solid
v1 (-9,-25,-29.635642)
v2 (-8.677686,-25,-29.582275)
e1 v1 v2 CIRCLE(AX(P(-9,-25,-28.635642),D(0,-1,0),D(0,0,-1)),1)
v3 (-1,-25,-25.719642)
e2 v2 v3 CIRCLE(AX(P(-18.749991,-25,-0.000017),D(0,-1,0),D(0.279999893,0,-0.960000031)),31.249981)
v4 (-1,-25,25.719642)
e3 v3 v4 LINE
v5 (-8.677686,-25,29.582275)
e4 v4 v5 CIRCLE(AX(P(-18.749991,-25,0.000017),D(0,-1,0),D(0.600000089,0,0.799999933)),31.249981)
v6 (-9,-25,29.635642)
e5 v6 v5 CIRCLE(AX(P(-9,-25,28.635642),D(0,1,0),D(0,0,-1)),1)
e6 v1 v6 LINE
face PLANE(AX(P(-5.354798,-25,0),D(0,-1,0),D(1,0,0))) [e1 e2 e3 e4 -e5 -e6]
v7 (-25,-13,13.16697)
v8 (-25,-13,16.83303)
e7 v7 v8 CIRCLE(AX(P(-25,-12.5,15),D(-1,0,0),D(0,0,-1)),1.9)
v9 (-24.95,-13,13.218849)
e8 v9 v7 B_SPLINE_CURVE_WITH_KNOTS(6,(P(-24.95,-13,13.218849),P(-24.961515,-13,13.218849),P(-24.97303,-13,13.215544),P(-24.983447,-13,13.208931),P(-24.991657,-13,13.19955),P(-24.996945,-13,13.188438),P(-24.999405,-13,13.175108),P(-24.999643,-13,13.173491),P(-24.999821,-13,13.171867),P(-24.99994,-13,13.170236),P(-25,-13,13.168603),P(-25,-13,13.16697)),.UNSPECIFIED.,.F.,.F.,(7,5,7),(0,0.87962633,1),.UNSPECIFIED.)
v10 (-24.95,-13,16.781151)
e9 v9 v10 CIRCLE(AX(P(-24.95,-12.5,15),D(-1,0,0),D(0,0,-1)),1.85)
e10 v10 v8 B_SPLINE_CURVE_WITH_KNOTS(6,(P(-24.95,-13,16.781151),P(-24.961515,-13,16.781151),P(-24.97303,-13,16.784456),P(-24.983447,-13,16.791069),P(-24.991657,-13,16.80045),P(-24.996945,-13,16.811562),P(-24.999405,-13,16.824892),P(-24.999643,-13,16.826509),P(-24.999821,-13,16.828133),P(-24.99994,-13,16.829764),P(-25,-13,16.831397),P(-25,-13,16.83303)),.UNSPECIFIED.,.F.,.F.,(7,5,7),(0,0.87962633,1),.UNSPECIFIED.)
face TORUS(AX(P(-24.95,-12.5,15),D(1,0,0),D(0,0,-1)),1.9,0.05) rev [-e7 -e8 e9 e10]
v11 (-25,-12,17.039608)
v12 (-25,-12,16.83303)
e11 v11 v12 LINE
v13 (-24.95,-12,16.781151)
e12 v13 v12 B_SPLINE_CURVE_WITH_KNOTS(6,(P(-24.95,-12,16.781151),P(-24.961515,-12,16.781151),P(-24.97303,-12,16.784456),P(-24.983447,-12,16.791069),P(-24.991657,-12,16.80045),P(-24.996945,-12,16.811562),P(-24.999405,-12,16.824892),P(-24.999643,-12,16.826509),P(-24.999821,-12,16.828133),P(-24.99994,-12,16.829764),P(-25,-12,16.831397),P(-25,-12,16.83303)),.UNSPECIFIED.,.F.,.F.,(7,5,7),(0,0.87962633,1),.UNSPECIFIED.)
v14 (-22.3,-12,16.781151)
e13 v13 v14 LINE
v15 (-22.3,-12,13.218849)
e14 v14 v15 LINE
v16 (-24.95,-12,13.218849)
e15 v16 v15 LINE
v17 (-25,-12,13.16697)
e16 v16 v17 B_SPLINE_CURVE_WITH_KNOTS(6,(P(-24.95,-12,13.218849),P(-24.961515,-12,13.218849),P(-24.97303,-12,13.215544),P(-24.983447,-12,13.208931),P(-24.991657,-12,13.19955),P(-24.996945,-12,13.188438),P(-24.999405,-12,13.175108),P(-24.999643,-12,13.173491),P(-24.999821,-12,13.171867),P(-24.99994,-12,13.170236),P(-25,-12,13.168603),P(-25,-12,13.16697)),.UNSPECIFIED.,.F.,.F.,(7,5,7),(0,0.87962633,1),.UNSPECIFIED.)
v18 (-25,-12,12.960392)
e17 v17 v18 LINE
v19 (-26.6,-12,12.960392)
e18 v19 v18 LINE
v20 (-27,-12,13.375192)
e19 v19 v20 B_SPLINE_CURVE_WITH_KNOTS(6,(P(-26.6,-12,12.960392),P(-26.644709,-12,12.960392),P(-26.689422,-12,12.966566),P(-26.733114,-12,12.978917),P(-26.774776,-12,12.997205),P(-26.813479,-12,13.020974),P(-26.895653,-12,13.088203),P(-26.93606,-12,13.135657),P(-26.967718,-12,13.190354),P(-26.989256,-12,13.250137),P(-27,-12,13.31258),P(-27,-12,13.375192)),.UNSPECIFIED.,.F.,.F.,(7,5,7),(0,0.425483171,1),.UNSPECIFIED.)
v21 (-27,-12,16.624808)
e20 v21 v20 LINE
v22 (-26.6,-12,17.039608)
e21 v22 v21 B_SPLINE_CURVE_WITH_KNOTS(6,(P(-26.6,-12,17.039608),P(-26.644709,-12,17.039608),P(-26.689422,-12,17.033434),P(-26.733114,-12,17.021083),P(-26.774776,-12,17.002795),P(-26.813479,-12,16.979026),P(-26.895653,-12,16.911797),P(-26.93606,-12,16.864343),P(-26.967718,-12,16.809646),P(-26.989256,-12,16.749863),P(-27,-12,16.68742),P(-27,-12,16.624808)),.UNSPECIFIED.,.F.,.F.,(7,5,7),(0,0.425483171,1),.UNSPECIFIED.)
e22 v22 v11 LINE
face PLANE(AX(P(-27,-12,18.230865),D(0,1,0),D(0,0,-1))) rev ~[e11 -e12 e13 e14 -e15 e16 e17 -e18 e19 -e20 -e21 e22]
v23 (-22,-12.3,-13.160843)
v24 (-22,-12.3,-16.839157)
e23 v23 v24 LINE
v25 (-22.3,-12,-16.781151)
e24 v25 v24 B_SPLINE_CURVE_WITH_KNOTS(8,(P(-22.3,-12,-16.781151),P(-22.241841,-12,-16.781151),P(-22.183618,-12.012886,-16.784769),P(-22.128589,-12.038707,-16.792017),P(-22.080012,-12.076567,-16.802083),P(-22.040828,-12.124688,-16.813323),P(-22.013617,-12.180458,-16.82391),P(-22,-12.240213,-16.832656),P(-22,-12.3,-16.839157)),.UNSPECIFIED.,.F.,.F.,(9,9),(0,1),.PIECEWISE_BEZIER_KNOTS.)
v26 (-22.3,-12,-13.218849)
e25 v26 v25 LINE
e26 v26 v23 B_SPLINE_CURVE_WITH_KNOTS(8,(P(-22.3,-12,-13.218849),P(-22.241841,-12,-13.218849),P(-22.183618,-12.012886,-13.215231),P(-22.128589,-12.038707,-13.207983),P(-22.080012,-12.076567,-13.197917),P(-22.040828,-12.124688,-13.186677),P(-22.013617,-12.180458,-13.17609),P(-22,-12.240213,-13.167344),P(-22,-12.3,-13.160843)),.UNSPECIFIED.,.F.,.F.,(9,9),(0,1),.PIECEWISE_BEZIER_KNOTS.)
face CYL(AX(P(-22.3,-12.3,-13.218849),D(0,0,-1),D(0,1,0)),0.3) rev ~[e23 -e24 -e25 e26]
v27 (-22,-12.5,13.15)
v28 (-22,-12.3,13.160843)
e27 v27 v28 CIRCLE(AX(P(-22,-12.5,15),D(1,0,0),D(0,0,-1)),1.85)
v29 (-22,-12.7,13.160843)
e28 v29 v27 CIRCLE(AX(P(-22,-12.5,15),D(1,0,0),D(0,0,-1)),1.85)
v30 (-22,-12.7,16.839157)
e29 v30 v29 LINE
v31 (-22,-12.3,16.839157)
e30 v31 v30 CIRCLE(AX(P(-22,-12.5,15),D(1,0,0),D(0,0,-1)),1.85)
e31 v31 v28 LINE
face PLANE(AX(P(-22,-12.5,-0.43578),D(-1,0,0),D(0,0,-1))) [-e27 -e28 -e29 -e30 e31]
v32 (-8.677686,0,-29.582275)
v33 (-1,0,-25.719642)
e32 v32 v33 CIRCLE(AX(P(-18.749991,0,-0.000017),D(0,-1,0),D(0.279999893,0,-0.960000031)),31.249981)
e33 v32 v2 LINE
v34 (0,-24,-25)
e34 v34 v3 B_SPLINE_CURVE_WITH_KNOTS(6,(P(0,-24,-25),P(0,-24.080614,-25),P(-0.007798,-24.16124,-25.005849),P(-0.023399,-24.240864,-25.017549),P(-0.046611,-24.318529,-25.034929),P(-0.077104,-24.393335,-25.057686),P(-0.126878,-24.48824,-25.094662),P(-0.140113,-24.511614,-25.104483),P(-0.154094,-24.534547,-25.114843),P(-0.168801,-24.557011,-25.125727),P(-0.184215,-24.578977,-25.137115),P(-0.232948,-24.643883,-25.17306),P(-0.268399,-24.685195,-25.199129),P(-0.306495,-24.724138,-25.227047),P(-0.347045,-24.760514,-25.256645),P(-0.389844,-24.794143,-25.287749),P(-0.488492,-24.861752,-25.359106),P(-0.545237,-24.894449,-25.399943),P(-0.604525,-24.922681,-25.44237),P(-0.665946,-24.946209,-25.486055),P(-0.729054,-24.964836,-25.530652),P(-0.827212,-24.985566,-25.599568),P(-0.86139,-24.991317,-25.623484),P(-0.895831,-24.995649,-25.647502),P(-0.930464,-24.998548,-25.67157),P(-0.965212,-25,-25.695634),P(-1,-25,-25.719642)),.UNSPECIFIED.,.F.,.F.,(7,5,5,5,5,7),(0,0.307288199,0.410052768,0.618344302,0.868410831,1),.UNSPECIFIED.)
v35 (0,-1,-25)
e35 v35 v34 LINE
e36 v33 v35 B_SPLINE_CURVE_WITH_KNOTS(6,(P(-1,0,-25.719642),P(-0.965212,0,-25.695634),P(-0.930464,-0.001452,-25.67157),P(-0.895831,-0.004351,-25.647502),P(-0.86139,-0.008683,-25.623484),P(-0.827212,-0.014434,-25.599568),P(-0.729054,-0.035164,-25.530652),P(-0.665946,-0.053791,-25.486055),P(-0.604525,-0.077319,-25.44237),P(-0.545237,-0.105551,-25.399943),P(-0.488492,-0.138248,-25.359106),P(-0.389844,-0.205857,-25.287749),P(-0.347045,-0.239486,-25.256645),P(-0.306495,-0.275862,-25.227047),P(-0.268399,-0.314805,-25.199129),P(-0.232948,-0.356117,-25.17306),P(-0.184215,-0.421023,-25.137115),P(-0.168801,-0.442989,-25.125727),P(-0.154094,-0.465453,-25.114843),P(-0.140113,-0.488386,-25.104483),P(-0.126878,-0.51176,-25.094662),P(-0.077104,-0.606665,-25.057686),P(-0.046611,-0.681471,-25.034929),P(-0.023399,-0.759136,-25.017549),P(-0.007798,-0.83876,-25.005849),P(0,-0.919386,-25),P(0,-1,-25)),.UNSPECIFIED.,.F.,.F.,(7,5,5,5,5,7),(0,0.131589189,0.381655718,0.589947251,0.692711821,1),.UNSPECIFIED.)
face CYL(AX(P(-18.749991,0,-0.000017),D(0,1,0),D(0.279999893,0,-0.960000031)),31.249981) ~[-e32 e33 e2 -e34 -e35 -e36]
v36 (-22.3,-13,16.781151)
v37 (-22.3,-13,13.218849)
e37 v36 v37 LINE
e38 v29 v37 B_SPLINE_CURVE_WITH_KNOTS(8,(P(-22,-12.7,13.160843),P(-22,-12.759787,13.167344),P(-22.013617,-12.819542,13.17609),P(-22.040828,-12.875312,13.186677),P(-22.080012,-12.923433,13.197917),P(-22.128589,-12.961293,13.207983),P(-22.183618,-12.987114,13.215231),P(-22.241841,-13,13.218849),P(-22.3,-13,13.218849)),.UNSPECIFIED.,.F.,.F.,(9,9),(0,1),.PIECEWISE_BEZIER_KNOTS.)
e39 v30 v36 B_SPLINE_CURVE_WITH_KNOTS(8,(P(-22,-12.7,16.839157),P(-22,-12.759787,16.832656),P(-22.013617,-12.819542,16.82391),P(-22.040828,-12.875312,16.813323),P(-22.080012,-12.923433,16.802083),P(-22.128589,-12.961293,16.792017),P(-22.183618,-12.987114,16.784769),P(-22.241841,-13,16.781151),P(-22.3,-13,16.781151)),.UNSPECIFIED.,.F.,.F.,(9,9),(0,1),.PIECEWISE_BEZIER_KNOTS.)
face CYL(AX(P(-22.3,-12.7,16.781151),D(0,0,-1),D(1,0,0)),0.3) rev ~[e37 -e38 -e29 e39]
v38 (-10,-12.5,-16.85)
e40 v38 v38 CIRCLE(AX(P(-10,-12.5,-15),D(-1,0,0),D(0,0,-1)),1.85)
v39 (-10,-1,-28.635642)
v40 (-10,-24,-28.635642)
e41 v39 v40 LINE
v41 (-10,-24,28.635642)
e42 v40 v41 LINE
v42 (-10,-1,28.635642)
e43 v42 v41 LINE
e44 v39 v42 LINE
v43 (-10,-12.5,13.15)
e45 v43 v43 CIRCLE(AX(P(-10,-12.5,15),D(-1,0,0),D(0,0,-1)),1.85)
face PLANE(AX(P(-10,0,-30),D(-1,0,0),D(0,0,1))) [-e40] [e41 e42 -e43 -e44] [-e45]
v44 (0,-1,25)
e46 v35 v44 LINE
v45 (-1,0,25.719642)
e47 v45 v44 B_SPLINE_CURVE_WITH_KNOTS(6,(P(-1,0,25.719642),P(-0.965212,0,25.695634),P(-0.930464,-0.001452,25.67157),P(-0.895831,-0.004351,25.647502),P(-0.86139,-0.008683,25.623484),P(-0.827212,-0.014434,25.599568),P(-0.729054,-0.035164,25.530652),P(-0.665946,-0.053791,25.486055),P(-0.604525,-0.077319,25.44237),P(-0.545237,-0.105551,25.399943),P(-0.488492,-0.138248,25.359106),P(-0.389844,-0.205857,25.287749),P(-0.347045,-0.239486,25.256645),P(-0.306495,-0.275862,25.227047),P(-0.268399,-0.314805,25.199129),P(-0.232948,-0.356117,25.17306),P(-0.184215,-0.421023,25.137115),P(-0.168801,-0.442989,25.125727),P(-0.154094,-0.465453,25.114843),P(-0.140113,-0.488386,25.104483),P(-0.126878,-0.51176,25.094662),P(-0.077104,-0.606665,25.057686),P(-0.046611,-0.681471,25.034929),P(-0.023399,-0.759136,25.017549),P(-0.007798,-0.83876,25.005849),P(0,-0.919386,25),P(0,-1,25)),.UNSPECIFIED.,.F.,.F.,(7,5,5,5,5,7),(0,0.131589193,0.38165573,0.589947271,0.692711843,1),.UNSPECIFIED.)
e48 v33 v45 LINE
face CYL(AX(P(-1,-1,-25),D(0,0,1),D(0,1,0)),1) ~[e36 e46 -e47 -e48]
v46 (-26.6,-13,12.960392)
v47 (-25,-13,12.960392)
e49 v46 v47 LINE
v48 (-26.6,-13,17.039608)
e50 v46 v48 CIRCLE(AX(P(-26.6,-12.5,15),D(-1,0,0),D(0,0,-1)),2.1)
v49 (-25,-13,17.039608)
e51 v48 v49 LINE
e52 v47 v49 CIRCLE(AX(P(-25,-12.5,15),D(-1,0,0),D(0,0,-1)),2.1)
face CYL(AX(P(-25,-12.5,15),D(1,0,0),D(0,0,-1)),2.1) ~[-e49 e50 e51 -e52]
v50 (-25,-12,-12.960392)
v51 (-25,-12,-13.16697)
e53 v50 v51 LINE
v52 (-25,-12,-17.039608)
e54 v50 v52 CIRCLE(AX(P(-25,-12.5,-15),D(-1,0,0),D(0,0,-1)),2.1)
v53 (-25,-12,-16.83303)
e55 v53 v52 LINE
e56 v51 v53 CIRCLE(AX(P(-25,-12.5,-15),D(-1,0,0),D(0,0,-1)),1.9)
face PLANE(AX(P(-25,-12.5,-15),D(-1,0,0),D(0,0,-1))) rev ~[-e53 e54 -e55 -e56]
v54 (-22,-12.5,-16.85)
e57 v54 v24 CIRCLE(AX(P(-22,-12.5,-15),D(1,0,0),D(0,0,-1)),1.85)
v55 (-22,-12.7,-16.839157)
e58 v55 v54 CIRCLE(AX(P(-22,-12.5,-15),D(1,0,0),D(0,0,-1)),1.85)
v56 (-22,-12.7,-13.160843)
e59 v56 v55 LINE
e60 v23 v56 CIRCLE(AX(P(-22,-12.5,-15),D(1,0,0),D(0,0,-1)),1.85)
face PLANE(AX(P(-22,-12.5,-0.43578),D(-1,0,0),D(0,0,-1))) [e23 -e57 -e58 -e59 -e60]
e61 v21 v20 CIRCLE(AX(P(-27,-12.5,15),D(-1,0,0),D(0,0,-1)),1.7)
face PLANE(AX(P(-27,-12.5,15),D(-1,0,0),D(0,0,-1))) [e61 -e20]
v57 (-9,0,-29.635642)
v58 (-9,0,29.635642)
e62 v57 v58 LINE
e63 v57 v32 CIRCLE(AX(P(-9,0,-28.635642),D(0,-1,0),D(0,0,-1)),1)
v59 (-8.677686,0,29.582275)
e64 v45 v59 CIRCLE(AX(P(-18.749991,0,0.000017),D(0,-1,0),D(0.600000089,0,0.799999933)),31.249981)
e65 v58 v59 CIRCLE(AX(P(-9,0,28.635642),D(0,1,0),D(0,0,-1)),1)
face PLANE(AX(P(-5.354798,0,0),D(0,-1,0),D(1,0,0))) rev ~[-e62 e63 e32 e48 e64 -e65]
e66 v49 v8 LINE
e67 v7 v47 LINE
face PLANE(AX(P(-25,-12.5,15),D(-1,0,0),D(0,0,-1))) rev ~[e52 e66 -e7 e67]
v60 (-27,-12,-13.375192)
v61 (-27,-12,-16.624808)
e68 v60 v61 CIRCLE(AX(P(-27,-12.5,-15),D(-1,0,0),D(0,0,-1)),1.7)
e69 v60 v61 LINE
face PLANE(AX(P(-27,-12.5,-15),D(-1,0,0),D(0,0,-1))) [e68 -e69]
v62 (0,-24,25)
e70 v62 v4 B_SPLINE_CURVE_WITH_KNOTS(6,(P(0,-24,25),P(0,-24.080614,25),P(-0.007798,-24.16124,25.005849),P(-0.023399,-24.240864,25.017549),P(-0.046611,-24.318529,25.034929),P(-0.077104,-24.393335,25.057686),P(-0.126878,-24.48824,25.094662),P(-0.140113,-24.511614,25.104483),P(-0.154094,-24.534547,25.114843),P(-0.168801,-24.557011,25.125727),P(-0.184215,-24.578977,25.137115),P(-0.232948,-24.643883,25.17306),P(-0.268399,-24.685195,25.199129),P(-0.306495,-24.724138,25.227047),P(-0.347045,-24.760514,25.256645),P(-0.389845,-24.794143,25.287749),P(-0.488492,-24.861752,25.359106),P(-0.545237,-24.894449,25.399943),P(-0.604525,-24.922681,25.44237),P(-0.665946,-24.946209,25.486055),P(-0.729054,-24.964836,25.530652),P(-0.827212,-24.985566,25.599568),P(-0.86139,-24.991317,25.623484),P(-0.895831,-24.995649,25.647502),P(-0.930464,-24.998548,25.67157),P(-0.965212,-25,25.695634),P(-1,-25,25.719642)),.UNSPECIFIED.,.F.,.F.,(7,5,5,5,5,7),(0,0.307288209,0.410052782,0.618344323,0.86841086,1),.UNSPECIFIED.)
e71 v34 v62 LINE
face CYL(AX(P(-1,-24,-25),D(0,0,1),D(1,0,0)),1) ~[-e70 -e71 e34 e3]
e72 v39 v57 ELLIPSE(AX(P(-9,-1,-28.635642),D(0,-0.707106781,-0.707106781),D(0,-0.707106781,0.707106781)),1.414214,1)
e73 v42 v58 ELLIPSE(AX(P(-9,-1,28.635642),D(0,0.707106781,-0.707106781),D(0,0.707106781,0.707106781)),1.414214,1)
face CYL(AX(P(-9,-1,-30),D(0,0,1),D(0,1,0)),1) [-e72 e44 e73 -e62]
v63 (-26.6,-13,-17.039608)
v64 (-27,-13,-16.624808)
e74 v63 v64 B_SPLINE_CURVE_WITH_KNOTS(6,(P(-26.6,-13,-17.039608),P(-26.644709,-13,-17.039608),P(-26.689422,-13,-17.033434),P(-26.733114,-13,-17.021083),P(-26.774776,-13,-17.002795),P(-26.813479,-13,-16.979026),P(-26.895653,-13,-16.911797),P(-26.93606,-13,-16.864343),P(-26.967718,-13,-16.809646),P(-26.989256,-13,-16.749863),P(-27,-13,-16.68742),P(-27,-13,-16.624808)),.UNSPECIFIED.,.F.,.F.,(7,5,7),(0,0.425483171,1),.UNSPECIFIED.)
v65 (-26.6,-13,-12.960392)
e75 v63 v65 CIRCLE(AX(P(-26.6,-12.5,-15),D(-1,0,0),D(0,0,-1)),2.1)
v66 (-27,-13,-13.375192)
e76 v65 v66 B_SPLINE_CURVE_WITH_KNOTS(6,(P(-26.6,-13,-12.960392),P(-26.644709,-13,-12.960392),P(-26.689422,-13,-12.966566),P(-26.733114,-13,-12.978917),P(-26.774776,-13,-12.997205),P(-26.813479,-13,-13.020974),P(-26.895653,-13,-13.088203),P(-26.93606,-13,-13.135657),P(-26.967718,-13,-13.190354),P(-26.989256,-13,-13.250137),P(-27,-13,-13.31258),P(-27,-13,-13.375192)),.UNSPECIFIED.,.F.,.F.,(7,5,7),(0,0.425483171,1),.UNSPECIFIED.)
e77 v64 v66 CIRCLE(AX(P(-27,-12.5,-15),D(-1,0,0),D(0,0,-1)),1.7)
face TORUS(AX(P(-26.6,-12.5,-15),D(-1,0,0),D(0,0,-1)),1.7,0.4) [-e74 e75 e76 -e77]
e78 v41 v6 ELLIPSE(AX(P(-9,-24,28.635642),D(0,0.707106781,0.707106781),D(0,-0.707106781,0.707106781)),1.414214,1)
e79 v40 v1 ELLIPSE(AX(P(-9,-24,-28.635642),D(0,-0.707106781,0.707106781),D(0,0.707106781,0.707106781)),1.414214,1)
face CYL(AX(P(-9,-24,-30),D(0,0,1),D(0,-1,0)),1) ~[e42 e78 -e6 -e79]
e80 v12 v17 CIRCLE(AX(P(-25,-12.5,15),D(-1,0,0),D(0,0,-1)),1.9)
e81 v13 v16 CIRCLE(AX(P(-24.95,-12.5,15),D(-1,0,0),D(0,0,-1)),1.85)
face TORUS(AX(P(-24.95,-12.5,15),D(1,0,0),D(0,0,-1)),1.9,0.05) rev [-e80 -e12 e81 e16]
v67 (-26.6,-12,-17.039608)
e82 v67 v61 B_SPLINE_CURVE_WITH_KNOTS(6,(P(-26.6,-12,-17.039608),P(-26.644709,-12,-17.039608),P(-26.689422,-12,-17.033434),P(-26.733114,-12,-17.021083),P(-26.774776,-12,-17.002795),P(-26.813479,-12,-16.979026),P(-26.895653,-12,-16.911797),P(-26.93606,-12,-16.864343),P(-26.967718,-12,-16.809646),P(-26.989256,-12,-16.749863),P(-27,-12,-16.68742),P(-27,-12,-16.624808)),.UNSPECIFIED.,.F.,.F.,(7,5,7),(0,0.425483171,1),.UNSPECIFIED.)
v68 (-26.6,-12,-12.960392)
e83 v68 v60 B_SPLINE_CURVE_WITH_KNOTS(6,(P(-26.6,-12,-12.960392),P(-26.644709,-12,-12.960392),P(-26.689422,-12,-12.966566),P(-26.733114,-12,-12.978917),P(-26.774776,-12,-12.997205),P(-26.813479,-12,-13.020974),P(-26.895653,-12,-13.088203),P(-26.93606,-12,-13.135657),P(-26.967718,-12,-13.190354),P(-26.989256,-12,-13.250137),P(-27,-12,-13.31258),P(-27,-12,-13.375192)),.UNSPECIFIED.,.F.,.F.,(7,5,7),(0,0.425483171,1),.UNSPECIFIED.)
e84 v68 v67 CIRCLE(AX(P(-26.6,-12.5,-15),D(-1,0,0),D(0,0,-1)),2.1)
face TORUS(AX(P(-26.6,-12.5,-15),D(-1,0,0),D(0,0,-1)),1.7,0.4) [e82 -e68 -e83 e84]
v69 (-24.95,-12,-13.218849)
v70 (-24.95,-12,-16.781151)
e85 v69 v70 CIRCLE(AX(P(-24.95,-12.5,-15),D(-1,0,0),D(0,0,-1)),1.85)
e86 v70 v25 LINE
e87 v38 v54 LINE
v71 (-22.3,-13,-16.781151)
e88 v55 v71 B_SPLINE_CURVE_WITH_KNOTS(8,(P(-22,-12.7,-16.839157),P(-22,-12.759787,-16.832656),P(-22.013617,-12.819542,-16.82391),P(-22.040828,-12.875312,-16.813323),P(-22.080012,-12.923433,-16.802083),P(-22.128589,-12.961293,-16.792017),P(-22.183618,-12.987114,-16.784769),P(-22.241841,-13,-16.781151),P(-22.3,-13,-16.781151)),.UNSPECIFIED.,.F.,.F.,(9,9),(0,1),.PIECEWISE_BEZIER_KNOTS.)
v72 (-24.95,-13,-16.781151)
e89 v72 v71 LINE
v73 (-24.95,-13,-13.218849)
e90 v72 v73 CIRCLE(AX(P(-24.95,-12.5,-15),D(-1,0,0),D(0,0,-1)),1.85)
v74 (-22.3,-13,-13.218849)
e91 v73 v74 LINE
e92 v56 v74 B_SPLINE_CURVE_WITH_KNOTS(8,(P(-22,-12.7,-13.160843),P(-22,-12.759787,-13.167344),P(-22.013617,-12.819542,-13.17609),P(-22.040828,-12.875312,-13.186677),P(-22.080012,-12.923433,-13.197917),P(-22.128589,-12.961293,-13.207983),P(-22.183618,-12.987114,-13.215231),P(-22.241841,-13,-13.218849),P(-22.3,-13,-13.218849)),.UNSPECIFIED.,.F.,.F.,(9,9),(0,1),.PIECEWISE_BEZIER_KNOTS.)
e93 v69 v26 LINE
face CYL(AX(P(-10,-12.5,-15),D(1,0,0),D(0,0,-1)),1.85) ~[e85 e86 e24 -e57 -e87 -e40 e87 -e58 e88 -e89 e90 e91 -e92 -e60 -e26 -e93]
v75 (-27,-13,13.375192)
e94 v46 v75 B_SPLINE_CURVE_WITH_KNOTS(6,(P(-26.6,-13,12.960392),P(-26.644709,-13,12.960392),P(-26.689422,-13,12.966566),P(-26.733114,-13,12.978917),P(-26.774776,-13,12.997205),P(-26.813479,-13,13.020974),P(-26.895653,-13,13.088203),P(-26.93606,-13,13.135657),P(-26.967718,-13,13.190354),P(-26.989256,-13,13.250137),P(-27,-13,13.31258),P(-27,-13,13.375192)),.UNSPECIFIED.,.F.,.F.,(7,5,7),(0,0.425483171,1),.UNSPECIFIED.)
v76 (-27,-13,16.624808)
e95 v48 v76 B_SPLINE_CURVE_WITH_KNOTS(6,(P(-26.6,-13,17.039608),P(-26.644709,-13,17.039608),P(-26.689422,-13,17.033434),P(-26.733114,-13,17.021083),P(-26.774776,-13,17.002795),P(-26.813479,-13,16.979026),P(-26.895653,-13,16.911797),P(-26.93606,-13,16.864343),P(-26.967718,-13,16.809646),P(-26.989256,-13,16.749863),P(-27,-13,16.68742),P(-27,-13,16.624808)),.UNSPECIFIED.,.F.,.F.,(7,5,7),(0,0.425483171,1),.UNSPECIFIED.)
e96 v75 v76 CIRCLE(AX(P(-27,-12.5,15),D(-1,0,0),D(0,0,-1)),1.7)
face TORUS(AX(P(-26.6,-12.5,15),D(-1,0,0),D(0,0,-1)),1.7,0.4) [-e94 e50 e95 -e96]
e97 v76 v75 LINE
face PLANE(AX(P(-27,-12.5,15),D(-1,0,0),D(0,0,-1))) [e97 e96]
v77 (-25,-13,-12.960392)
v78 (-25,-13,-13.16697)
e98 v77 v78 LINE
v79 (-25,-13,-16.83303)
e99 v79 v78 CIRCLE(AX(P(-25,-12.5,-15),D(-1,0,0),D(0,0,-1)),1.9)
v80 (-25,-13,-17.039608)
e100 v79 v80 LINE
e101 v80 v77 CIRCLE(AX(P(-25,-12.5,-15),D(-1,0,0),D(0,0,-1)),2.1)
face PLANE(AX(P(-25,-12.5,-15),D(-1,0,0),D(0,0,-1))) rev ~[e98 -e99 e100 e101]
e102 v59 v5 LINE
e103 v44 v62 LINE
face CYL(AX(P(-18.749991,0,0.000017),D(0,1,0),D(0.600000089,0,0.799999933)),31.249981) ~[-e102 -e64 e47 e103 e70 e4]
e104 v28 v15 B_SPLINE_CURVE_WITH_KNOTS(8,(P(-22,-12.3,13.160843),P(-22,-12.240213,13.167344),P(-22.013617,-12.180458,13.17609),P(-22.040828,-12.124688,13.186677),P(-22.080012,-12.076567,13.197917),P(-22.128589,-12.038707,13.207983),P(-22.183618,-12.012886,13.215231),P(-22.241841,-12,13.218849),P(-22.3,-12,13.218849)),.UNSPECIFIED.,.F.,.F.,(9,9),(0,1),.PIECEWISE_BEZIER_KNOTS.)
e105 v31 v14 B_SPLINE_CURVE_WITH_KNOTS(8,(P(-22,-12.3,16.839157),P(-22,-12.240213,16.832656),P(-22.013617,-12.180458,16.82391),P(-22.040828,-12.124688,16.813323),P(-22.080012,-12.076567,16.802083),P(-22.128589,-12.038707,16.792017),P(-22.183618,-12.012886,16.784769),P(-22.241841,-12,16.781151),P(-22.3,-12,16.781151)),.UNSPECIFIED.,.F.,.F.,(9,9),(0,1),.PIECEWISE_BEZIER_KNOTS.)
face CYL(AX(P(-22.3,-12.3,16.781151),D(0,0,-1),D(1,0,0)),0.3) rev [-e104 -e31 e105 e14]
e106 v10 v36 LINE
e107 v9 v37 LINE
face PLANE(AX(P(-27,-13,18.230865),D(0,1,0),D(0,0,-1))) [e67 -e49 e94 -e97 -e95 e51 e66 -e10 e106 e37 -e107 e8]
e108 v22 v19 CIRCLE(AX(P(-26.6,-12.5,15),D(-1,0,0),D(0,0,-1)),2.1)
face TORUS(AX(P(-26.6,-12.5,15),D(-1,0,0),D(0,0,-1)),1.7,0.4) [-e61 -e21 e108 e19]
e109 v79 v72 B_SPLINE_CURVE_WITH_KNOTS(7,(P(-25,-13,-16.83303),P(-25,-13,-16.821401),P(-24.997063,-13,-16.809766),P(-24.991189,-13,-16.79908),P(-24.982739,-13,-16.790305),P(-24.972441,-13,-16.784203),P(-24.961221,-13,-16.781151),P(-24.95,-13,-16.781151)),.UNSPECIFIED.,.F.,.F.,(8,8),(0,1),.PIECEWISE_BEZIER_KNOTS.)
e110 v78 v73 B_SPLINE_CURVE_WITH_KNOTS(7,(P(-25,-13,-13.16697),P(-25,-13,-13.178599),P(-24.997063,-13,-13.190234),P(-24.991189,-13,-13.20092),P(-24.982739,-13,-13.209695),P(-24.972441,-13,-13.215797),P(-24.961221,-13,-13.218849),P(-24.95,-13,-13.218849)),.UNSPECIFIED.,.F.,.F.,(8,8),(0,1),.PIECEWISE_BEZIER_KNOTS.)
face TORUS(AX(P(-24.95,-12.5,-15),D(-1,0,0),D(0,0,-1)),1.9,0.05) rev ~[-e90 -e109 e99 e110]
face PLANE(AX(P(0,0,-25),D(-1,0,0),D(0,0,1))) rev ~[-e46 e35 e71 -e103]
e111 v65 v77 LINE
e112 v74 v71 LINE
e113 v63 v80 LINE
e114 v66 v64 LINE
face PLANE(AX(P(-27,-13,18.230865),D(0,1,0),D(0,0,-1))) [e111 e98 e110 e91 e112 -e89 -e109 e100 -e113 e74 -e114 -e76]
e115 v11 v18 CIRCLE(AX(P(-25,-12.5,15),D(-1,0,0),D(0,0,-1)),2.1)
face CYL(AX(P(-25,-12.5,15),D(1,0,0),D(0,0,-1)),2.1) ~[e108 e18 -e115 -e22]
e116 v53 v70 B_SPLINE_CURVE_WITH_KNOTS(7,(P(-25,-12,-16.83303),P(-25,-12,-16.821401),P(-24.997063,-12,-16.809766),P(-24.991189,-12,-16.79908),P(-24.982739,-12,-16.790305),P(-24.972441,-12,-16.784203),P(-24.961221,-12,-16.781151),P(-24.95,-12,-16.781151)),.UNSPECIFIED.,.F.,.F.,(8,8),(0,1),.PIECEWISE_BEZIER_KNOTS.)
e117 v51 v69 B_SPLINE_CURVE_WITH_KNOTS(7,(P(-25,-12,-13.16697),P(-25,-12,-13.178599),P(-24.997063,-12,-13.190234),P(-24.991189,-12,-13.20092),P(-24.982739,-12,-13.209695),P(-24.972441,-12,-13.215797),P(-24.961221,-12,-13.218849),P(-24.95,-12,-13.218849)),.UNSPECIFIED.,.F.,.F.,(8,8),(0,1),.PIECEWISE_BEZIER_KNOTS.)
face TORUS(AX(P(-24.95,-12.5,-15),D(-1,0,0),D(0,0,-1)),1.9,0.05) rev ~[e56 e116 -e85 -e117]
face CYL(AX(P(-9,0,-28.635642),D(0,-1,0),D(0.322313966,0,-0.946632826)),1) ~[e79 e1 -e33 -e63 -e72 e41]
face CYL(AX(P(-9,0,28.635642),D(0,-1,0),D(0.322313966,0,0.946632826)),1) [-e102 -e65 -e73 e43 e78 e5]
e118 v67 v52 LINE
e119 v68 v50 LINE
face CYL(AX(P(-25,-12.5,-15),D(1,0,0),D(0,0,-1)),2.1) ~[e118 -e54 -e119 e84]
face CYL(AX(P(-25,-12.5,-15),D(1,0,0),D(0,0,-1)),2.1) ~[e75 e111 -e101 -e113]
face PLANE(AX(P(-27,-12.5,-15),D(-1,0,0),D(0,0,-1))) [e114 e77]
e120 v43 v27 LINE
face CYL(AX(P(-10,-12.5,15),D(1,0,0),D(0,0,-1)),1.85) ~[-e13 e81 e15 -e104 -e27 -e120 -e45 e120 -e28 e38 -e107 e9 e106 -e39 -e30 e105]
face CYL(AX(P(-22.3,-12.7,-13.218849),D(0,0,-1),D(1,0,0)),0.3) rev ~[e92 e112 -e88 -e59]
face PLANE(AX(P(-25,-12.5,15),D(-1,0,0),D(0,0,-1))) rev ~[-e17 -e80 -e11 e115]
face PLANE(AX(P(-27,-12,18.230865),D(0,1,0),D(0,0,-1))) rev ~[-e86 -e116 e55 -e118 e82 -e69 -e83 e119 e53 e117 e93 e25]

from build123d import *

# Parameters (mm, degrees)
PAD_DEPTH       = 25
SKETCH002_R     = 1.85
PAD002_DEPTH    = 15
FILLET_R        = 1
FILLET001_R     = 1
SKETCH004_R     = 2.1
PAD003_DEPTH    = 2
FILLET004_R     = 0.05
FILLET005_R     = 0.4
SKETCH007_W     = 37.33329
SKETCH007_H     = 1
POCKET002_DEPTH = 5
FILLET009_R     = 0.3


with BuildPart() as part:
    # Sketch → Pad (new body)
    with BuildSketch(Plane.XZ):
        with BuildLine():
            Line((0, -25), (0, 25))
            ThreePointArc((0, 25), (-4.774575, 27.95085), (-10, 30))
            Line((-10, -30), (-10, 30))
            ThreePointArc((-10, -30), (-4.774575, -27.95085), (0, -25))
        make_face()
    extrude(amount=PAD_DEPTH)

    # Sketch002 (on Face4 of Pad) → Pad002 (join)
    with BuildSketch(Plane(origin=(-10, 0, 0), x_dir=(0, 0, -1), z_dir=(-1, 0, 0))):
        with Locations((-15, 12.5)):
            Circle(SKETCH002_R)
        with Locations((15, 12.5)):
            Circle(SKETCH002_R)
    extrude(amount=PAD002_DEPTH)

    # Fillet
    fillet_edges = [part.edges().sort_by_distance(p)[0] for p in [
        (-10, -12.5, 30),
        (-10, -25, 0),
        (-10, 0, 0),
        (-10, -12.5, -30),
    ]]
    fillet(fillet_edges, radius=FILLET_R)

    # Fillet001
    fillet001_edges = [part.edges().sort_by_distance(p)[0] for p in [
        (0, 0, 0),
        (0, -25, 0),
    ]]
    fillet(fillet001_edges, radius=FILLET001_R)

    # Sketch004 (on Face16 of Fillet001) → Pad003 (join)
    with BuildSketch(Plane(origin=(-25, 0, 0), x_dir=(0, 0, -1), z_dir=(-1, 0, 0))):
        with Locations((15, 12.5)):
            Circle(SKETCH004_R)
        with Locations((-15, 12.5)):
            Circle(SKETCH004_R)
    extrude(amount=PAD003_DEPTH)

    # Fillet004
    fillet004_edges = [part.edges().sort_by_distance(p)[0] for p in [
        (-25, -12.5, -13.15),
        (-25, -12.5, 16.85),
    ]]
    fillet(fillet004_edges, radius=FILLET004_R)

    # Fillet005
    fillet005_edges = [part.edges().sort_by_distance(p)[0] for p in [
        (-27, -12.5, -12.9),
        (-27, -12.5, 17.1),
    ]]
    fillet(fillet005_edges, radius=FILLET005_R)

    # Sketch007 (on Face24 of Fillet005) → Pocket002 (cut)
    with BuildSketch(Plane(origin=(-27, 0, 0), x_dir=(0, 0, -1), z_dir=(-1, 0, 0))):
        with Locations((0.43578, 12.5)):
            Rectangle(SKETCH007_W, SKETCH007_H)
    extrude(amount=-POCKET002_DEPTH, mode=Mode.SUBTRACT)

    # Fillet009
    fillet009_edges = [part.edges().sort_by_distance(p)[0] for p in [
        (-22, -12, 15),
        (-22, -13, 15),
        (-22, -13, -15),
        (-22, -12, -15),
    ]]
    fillet(fillet009_edges, radius=FILLET009_R)


solid = part.part
